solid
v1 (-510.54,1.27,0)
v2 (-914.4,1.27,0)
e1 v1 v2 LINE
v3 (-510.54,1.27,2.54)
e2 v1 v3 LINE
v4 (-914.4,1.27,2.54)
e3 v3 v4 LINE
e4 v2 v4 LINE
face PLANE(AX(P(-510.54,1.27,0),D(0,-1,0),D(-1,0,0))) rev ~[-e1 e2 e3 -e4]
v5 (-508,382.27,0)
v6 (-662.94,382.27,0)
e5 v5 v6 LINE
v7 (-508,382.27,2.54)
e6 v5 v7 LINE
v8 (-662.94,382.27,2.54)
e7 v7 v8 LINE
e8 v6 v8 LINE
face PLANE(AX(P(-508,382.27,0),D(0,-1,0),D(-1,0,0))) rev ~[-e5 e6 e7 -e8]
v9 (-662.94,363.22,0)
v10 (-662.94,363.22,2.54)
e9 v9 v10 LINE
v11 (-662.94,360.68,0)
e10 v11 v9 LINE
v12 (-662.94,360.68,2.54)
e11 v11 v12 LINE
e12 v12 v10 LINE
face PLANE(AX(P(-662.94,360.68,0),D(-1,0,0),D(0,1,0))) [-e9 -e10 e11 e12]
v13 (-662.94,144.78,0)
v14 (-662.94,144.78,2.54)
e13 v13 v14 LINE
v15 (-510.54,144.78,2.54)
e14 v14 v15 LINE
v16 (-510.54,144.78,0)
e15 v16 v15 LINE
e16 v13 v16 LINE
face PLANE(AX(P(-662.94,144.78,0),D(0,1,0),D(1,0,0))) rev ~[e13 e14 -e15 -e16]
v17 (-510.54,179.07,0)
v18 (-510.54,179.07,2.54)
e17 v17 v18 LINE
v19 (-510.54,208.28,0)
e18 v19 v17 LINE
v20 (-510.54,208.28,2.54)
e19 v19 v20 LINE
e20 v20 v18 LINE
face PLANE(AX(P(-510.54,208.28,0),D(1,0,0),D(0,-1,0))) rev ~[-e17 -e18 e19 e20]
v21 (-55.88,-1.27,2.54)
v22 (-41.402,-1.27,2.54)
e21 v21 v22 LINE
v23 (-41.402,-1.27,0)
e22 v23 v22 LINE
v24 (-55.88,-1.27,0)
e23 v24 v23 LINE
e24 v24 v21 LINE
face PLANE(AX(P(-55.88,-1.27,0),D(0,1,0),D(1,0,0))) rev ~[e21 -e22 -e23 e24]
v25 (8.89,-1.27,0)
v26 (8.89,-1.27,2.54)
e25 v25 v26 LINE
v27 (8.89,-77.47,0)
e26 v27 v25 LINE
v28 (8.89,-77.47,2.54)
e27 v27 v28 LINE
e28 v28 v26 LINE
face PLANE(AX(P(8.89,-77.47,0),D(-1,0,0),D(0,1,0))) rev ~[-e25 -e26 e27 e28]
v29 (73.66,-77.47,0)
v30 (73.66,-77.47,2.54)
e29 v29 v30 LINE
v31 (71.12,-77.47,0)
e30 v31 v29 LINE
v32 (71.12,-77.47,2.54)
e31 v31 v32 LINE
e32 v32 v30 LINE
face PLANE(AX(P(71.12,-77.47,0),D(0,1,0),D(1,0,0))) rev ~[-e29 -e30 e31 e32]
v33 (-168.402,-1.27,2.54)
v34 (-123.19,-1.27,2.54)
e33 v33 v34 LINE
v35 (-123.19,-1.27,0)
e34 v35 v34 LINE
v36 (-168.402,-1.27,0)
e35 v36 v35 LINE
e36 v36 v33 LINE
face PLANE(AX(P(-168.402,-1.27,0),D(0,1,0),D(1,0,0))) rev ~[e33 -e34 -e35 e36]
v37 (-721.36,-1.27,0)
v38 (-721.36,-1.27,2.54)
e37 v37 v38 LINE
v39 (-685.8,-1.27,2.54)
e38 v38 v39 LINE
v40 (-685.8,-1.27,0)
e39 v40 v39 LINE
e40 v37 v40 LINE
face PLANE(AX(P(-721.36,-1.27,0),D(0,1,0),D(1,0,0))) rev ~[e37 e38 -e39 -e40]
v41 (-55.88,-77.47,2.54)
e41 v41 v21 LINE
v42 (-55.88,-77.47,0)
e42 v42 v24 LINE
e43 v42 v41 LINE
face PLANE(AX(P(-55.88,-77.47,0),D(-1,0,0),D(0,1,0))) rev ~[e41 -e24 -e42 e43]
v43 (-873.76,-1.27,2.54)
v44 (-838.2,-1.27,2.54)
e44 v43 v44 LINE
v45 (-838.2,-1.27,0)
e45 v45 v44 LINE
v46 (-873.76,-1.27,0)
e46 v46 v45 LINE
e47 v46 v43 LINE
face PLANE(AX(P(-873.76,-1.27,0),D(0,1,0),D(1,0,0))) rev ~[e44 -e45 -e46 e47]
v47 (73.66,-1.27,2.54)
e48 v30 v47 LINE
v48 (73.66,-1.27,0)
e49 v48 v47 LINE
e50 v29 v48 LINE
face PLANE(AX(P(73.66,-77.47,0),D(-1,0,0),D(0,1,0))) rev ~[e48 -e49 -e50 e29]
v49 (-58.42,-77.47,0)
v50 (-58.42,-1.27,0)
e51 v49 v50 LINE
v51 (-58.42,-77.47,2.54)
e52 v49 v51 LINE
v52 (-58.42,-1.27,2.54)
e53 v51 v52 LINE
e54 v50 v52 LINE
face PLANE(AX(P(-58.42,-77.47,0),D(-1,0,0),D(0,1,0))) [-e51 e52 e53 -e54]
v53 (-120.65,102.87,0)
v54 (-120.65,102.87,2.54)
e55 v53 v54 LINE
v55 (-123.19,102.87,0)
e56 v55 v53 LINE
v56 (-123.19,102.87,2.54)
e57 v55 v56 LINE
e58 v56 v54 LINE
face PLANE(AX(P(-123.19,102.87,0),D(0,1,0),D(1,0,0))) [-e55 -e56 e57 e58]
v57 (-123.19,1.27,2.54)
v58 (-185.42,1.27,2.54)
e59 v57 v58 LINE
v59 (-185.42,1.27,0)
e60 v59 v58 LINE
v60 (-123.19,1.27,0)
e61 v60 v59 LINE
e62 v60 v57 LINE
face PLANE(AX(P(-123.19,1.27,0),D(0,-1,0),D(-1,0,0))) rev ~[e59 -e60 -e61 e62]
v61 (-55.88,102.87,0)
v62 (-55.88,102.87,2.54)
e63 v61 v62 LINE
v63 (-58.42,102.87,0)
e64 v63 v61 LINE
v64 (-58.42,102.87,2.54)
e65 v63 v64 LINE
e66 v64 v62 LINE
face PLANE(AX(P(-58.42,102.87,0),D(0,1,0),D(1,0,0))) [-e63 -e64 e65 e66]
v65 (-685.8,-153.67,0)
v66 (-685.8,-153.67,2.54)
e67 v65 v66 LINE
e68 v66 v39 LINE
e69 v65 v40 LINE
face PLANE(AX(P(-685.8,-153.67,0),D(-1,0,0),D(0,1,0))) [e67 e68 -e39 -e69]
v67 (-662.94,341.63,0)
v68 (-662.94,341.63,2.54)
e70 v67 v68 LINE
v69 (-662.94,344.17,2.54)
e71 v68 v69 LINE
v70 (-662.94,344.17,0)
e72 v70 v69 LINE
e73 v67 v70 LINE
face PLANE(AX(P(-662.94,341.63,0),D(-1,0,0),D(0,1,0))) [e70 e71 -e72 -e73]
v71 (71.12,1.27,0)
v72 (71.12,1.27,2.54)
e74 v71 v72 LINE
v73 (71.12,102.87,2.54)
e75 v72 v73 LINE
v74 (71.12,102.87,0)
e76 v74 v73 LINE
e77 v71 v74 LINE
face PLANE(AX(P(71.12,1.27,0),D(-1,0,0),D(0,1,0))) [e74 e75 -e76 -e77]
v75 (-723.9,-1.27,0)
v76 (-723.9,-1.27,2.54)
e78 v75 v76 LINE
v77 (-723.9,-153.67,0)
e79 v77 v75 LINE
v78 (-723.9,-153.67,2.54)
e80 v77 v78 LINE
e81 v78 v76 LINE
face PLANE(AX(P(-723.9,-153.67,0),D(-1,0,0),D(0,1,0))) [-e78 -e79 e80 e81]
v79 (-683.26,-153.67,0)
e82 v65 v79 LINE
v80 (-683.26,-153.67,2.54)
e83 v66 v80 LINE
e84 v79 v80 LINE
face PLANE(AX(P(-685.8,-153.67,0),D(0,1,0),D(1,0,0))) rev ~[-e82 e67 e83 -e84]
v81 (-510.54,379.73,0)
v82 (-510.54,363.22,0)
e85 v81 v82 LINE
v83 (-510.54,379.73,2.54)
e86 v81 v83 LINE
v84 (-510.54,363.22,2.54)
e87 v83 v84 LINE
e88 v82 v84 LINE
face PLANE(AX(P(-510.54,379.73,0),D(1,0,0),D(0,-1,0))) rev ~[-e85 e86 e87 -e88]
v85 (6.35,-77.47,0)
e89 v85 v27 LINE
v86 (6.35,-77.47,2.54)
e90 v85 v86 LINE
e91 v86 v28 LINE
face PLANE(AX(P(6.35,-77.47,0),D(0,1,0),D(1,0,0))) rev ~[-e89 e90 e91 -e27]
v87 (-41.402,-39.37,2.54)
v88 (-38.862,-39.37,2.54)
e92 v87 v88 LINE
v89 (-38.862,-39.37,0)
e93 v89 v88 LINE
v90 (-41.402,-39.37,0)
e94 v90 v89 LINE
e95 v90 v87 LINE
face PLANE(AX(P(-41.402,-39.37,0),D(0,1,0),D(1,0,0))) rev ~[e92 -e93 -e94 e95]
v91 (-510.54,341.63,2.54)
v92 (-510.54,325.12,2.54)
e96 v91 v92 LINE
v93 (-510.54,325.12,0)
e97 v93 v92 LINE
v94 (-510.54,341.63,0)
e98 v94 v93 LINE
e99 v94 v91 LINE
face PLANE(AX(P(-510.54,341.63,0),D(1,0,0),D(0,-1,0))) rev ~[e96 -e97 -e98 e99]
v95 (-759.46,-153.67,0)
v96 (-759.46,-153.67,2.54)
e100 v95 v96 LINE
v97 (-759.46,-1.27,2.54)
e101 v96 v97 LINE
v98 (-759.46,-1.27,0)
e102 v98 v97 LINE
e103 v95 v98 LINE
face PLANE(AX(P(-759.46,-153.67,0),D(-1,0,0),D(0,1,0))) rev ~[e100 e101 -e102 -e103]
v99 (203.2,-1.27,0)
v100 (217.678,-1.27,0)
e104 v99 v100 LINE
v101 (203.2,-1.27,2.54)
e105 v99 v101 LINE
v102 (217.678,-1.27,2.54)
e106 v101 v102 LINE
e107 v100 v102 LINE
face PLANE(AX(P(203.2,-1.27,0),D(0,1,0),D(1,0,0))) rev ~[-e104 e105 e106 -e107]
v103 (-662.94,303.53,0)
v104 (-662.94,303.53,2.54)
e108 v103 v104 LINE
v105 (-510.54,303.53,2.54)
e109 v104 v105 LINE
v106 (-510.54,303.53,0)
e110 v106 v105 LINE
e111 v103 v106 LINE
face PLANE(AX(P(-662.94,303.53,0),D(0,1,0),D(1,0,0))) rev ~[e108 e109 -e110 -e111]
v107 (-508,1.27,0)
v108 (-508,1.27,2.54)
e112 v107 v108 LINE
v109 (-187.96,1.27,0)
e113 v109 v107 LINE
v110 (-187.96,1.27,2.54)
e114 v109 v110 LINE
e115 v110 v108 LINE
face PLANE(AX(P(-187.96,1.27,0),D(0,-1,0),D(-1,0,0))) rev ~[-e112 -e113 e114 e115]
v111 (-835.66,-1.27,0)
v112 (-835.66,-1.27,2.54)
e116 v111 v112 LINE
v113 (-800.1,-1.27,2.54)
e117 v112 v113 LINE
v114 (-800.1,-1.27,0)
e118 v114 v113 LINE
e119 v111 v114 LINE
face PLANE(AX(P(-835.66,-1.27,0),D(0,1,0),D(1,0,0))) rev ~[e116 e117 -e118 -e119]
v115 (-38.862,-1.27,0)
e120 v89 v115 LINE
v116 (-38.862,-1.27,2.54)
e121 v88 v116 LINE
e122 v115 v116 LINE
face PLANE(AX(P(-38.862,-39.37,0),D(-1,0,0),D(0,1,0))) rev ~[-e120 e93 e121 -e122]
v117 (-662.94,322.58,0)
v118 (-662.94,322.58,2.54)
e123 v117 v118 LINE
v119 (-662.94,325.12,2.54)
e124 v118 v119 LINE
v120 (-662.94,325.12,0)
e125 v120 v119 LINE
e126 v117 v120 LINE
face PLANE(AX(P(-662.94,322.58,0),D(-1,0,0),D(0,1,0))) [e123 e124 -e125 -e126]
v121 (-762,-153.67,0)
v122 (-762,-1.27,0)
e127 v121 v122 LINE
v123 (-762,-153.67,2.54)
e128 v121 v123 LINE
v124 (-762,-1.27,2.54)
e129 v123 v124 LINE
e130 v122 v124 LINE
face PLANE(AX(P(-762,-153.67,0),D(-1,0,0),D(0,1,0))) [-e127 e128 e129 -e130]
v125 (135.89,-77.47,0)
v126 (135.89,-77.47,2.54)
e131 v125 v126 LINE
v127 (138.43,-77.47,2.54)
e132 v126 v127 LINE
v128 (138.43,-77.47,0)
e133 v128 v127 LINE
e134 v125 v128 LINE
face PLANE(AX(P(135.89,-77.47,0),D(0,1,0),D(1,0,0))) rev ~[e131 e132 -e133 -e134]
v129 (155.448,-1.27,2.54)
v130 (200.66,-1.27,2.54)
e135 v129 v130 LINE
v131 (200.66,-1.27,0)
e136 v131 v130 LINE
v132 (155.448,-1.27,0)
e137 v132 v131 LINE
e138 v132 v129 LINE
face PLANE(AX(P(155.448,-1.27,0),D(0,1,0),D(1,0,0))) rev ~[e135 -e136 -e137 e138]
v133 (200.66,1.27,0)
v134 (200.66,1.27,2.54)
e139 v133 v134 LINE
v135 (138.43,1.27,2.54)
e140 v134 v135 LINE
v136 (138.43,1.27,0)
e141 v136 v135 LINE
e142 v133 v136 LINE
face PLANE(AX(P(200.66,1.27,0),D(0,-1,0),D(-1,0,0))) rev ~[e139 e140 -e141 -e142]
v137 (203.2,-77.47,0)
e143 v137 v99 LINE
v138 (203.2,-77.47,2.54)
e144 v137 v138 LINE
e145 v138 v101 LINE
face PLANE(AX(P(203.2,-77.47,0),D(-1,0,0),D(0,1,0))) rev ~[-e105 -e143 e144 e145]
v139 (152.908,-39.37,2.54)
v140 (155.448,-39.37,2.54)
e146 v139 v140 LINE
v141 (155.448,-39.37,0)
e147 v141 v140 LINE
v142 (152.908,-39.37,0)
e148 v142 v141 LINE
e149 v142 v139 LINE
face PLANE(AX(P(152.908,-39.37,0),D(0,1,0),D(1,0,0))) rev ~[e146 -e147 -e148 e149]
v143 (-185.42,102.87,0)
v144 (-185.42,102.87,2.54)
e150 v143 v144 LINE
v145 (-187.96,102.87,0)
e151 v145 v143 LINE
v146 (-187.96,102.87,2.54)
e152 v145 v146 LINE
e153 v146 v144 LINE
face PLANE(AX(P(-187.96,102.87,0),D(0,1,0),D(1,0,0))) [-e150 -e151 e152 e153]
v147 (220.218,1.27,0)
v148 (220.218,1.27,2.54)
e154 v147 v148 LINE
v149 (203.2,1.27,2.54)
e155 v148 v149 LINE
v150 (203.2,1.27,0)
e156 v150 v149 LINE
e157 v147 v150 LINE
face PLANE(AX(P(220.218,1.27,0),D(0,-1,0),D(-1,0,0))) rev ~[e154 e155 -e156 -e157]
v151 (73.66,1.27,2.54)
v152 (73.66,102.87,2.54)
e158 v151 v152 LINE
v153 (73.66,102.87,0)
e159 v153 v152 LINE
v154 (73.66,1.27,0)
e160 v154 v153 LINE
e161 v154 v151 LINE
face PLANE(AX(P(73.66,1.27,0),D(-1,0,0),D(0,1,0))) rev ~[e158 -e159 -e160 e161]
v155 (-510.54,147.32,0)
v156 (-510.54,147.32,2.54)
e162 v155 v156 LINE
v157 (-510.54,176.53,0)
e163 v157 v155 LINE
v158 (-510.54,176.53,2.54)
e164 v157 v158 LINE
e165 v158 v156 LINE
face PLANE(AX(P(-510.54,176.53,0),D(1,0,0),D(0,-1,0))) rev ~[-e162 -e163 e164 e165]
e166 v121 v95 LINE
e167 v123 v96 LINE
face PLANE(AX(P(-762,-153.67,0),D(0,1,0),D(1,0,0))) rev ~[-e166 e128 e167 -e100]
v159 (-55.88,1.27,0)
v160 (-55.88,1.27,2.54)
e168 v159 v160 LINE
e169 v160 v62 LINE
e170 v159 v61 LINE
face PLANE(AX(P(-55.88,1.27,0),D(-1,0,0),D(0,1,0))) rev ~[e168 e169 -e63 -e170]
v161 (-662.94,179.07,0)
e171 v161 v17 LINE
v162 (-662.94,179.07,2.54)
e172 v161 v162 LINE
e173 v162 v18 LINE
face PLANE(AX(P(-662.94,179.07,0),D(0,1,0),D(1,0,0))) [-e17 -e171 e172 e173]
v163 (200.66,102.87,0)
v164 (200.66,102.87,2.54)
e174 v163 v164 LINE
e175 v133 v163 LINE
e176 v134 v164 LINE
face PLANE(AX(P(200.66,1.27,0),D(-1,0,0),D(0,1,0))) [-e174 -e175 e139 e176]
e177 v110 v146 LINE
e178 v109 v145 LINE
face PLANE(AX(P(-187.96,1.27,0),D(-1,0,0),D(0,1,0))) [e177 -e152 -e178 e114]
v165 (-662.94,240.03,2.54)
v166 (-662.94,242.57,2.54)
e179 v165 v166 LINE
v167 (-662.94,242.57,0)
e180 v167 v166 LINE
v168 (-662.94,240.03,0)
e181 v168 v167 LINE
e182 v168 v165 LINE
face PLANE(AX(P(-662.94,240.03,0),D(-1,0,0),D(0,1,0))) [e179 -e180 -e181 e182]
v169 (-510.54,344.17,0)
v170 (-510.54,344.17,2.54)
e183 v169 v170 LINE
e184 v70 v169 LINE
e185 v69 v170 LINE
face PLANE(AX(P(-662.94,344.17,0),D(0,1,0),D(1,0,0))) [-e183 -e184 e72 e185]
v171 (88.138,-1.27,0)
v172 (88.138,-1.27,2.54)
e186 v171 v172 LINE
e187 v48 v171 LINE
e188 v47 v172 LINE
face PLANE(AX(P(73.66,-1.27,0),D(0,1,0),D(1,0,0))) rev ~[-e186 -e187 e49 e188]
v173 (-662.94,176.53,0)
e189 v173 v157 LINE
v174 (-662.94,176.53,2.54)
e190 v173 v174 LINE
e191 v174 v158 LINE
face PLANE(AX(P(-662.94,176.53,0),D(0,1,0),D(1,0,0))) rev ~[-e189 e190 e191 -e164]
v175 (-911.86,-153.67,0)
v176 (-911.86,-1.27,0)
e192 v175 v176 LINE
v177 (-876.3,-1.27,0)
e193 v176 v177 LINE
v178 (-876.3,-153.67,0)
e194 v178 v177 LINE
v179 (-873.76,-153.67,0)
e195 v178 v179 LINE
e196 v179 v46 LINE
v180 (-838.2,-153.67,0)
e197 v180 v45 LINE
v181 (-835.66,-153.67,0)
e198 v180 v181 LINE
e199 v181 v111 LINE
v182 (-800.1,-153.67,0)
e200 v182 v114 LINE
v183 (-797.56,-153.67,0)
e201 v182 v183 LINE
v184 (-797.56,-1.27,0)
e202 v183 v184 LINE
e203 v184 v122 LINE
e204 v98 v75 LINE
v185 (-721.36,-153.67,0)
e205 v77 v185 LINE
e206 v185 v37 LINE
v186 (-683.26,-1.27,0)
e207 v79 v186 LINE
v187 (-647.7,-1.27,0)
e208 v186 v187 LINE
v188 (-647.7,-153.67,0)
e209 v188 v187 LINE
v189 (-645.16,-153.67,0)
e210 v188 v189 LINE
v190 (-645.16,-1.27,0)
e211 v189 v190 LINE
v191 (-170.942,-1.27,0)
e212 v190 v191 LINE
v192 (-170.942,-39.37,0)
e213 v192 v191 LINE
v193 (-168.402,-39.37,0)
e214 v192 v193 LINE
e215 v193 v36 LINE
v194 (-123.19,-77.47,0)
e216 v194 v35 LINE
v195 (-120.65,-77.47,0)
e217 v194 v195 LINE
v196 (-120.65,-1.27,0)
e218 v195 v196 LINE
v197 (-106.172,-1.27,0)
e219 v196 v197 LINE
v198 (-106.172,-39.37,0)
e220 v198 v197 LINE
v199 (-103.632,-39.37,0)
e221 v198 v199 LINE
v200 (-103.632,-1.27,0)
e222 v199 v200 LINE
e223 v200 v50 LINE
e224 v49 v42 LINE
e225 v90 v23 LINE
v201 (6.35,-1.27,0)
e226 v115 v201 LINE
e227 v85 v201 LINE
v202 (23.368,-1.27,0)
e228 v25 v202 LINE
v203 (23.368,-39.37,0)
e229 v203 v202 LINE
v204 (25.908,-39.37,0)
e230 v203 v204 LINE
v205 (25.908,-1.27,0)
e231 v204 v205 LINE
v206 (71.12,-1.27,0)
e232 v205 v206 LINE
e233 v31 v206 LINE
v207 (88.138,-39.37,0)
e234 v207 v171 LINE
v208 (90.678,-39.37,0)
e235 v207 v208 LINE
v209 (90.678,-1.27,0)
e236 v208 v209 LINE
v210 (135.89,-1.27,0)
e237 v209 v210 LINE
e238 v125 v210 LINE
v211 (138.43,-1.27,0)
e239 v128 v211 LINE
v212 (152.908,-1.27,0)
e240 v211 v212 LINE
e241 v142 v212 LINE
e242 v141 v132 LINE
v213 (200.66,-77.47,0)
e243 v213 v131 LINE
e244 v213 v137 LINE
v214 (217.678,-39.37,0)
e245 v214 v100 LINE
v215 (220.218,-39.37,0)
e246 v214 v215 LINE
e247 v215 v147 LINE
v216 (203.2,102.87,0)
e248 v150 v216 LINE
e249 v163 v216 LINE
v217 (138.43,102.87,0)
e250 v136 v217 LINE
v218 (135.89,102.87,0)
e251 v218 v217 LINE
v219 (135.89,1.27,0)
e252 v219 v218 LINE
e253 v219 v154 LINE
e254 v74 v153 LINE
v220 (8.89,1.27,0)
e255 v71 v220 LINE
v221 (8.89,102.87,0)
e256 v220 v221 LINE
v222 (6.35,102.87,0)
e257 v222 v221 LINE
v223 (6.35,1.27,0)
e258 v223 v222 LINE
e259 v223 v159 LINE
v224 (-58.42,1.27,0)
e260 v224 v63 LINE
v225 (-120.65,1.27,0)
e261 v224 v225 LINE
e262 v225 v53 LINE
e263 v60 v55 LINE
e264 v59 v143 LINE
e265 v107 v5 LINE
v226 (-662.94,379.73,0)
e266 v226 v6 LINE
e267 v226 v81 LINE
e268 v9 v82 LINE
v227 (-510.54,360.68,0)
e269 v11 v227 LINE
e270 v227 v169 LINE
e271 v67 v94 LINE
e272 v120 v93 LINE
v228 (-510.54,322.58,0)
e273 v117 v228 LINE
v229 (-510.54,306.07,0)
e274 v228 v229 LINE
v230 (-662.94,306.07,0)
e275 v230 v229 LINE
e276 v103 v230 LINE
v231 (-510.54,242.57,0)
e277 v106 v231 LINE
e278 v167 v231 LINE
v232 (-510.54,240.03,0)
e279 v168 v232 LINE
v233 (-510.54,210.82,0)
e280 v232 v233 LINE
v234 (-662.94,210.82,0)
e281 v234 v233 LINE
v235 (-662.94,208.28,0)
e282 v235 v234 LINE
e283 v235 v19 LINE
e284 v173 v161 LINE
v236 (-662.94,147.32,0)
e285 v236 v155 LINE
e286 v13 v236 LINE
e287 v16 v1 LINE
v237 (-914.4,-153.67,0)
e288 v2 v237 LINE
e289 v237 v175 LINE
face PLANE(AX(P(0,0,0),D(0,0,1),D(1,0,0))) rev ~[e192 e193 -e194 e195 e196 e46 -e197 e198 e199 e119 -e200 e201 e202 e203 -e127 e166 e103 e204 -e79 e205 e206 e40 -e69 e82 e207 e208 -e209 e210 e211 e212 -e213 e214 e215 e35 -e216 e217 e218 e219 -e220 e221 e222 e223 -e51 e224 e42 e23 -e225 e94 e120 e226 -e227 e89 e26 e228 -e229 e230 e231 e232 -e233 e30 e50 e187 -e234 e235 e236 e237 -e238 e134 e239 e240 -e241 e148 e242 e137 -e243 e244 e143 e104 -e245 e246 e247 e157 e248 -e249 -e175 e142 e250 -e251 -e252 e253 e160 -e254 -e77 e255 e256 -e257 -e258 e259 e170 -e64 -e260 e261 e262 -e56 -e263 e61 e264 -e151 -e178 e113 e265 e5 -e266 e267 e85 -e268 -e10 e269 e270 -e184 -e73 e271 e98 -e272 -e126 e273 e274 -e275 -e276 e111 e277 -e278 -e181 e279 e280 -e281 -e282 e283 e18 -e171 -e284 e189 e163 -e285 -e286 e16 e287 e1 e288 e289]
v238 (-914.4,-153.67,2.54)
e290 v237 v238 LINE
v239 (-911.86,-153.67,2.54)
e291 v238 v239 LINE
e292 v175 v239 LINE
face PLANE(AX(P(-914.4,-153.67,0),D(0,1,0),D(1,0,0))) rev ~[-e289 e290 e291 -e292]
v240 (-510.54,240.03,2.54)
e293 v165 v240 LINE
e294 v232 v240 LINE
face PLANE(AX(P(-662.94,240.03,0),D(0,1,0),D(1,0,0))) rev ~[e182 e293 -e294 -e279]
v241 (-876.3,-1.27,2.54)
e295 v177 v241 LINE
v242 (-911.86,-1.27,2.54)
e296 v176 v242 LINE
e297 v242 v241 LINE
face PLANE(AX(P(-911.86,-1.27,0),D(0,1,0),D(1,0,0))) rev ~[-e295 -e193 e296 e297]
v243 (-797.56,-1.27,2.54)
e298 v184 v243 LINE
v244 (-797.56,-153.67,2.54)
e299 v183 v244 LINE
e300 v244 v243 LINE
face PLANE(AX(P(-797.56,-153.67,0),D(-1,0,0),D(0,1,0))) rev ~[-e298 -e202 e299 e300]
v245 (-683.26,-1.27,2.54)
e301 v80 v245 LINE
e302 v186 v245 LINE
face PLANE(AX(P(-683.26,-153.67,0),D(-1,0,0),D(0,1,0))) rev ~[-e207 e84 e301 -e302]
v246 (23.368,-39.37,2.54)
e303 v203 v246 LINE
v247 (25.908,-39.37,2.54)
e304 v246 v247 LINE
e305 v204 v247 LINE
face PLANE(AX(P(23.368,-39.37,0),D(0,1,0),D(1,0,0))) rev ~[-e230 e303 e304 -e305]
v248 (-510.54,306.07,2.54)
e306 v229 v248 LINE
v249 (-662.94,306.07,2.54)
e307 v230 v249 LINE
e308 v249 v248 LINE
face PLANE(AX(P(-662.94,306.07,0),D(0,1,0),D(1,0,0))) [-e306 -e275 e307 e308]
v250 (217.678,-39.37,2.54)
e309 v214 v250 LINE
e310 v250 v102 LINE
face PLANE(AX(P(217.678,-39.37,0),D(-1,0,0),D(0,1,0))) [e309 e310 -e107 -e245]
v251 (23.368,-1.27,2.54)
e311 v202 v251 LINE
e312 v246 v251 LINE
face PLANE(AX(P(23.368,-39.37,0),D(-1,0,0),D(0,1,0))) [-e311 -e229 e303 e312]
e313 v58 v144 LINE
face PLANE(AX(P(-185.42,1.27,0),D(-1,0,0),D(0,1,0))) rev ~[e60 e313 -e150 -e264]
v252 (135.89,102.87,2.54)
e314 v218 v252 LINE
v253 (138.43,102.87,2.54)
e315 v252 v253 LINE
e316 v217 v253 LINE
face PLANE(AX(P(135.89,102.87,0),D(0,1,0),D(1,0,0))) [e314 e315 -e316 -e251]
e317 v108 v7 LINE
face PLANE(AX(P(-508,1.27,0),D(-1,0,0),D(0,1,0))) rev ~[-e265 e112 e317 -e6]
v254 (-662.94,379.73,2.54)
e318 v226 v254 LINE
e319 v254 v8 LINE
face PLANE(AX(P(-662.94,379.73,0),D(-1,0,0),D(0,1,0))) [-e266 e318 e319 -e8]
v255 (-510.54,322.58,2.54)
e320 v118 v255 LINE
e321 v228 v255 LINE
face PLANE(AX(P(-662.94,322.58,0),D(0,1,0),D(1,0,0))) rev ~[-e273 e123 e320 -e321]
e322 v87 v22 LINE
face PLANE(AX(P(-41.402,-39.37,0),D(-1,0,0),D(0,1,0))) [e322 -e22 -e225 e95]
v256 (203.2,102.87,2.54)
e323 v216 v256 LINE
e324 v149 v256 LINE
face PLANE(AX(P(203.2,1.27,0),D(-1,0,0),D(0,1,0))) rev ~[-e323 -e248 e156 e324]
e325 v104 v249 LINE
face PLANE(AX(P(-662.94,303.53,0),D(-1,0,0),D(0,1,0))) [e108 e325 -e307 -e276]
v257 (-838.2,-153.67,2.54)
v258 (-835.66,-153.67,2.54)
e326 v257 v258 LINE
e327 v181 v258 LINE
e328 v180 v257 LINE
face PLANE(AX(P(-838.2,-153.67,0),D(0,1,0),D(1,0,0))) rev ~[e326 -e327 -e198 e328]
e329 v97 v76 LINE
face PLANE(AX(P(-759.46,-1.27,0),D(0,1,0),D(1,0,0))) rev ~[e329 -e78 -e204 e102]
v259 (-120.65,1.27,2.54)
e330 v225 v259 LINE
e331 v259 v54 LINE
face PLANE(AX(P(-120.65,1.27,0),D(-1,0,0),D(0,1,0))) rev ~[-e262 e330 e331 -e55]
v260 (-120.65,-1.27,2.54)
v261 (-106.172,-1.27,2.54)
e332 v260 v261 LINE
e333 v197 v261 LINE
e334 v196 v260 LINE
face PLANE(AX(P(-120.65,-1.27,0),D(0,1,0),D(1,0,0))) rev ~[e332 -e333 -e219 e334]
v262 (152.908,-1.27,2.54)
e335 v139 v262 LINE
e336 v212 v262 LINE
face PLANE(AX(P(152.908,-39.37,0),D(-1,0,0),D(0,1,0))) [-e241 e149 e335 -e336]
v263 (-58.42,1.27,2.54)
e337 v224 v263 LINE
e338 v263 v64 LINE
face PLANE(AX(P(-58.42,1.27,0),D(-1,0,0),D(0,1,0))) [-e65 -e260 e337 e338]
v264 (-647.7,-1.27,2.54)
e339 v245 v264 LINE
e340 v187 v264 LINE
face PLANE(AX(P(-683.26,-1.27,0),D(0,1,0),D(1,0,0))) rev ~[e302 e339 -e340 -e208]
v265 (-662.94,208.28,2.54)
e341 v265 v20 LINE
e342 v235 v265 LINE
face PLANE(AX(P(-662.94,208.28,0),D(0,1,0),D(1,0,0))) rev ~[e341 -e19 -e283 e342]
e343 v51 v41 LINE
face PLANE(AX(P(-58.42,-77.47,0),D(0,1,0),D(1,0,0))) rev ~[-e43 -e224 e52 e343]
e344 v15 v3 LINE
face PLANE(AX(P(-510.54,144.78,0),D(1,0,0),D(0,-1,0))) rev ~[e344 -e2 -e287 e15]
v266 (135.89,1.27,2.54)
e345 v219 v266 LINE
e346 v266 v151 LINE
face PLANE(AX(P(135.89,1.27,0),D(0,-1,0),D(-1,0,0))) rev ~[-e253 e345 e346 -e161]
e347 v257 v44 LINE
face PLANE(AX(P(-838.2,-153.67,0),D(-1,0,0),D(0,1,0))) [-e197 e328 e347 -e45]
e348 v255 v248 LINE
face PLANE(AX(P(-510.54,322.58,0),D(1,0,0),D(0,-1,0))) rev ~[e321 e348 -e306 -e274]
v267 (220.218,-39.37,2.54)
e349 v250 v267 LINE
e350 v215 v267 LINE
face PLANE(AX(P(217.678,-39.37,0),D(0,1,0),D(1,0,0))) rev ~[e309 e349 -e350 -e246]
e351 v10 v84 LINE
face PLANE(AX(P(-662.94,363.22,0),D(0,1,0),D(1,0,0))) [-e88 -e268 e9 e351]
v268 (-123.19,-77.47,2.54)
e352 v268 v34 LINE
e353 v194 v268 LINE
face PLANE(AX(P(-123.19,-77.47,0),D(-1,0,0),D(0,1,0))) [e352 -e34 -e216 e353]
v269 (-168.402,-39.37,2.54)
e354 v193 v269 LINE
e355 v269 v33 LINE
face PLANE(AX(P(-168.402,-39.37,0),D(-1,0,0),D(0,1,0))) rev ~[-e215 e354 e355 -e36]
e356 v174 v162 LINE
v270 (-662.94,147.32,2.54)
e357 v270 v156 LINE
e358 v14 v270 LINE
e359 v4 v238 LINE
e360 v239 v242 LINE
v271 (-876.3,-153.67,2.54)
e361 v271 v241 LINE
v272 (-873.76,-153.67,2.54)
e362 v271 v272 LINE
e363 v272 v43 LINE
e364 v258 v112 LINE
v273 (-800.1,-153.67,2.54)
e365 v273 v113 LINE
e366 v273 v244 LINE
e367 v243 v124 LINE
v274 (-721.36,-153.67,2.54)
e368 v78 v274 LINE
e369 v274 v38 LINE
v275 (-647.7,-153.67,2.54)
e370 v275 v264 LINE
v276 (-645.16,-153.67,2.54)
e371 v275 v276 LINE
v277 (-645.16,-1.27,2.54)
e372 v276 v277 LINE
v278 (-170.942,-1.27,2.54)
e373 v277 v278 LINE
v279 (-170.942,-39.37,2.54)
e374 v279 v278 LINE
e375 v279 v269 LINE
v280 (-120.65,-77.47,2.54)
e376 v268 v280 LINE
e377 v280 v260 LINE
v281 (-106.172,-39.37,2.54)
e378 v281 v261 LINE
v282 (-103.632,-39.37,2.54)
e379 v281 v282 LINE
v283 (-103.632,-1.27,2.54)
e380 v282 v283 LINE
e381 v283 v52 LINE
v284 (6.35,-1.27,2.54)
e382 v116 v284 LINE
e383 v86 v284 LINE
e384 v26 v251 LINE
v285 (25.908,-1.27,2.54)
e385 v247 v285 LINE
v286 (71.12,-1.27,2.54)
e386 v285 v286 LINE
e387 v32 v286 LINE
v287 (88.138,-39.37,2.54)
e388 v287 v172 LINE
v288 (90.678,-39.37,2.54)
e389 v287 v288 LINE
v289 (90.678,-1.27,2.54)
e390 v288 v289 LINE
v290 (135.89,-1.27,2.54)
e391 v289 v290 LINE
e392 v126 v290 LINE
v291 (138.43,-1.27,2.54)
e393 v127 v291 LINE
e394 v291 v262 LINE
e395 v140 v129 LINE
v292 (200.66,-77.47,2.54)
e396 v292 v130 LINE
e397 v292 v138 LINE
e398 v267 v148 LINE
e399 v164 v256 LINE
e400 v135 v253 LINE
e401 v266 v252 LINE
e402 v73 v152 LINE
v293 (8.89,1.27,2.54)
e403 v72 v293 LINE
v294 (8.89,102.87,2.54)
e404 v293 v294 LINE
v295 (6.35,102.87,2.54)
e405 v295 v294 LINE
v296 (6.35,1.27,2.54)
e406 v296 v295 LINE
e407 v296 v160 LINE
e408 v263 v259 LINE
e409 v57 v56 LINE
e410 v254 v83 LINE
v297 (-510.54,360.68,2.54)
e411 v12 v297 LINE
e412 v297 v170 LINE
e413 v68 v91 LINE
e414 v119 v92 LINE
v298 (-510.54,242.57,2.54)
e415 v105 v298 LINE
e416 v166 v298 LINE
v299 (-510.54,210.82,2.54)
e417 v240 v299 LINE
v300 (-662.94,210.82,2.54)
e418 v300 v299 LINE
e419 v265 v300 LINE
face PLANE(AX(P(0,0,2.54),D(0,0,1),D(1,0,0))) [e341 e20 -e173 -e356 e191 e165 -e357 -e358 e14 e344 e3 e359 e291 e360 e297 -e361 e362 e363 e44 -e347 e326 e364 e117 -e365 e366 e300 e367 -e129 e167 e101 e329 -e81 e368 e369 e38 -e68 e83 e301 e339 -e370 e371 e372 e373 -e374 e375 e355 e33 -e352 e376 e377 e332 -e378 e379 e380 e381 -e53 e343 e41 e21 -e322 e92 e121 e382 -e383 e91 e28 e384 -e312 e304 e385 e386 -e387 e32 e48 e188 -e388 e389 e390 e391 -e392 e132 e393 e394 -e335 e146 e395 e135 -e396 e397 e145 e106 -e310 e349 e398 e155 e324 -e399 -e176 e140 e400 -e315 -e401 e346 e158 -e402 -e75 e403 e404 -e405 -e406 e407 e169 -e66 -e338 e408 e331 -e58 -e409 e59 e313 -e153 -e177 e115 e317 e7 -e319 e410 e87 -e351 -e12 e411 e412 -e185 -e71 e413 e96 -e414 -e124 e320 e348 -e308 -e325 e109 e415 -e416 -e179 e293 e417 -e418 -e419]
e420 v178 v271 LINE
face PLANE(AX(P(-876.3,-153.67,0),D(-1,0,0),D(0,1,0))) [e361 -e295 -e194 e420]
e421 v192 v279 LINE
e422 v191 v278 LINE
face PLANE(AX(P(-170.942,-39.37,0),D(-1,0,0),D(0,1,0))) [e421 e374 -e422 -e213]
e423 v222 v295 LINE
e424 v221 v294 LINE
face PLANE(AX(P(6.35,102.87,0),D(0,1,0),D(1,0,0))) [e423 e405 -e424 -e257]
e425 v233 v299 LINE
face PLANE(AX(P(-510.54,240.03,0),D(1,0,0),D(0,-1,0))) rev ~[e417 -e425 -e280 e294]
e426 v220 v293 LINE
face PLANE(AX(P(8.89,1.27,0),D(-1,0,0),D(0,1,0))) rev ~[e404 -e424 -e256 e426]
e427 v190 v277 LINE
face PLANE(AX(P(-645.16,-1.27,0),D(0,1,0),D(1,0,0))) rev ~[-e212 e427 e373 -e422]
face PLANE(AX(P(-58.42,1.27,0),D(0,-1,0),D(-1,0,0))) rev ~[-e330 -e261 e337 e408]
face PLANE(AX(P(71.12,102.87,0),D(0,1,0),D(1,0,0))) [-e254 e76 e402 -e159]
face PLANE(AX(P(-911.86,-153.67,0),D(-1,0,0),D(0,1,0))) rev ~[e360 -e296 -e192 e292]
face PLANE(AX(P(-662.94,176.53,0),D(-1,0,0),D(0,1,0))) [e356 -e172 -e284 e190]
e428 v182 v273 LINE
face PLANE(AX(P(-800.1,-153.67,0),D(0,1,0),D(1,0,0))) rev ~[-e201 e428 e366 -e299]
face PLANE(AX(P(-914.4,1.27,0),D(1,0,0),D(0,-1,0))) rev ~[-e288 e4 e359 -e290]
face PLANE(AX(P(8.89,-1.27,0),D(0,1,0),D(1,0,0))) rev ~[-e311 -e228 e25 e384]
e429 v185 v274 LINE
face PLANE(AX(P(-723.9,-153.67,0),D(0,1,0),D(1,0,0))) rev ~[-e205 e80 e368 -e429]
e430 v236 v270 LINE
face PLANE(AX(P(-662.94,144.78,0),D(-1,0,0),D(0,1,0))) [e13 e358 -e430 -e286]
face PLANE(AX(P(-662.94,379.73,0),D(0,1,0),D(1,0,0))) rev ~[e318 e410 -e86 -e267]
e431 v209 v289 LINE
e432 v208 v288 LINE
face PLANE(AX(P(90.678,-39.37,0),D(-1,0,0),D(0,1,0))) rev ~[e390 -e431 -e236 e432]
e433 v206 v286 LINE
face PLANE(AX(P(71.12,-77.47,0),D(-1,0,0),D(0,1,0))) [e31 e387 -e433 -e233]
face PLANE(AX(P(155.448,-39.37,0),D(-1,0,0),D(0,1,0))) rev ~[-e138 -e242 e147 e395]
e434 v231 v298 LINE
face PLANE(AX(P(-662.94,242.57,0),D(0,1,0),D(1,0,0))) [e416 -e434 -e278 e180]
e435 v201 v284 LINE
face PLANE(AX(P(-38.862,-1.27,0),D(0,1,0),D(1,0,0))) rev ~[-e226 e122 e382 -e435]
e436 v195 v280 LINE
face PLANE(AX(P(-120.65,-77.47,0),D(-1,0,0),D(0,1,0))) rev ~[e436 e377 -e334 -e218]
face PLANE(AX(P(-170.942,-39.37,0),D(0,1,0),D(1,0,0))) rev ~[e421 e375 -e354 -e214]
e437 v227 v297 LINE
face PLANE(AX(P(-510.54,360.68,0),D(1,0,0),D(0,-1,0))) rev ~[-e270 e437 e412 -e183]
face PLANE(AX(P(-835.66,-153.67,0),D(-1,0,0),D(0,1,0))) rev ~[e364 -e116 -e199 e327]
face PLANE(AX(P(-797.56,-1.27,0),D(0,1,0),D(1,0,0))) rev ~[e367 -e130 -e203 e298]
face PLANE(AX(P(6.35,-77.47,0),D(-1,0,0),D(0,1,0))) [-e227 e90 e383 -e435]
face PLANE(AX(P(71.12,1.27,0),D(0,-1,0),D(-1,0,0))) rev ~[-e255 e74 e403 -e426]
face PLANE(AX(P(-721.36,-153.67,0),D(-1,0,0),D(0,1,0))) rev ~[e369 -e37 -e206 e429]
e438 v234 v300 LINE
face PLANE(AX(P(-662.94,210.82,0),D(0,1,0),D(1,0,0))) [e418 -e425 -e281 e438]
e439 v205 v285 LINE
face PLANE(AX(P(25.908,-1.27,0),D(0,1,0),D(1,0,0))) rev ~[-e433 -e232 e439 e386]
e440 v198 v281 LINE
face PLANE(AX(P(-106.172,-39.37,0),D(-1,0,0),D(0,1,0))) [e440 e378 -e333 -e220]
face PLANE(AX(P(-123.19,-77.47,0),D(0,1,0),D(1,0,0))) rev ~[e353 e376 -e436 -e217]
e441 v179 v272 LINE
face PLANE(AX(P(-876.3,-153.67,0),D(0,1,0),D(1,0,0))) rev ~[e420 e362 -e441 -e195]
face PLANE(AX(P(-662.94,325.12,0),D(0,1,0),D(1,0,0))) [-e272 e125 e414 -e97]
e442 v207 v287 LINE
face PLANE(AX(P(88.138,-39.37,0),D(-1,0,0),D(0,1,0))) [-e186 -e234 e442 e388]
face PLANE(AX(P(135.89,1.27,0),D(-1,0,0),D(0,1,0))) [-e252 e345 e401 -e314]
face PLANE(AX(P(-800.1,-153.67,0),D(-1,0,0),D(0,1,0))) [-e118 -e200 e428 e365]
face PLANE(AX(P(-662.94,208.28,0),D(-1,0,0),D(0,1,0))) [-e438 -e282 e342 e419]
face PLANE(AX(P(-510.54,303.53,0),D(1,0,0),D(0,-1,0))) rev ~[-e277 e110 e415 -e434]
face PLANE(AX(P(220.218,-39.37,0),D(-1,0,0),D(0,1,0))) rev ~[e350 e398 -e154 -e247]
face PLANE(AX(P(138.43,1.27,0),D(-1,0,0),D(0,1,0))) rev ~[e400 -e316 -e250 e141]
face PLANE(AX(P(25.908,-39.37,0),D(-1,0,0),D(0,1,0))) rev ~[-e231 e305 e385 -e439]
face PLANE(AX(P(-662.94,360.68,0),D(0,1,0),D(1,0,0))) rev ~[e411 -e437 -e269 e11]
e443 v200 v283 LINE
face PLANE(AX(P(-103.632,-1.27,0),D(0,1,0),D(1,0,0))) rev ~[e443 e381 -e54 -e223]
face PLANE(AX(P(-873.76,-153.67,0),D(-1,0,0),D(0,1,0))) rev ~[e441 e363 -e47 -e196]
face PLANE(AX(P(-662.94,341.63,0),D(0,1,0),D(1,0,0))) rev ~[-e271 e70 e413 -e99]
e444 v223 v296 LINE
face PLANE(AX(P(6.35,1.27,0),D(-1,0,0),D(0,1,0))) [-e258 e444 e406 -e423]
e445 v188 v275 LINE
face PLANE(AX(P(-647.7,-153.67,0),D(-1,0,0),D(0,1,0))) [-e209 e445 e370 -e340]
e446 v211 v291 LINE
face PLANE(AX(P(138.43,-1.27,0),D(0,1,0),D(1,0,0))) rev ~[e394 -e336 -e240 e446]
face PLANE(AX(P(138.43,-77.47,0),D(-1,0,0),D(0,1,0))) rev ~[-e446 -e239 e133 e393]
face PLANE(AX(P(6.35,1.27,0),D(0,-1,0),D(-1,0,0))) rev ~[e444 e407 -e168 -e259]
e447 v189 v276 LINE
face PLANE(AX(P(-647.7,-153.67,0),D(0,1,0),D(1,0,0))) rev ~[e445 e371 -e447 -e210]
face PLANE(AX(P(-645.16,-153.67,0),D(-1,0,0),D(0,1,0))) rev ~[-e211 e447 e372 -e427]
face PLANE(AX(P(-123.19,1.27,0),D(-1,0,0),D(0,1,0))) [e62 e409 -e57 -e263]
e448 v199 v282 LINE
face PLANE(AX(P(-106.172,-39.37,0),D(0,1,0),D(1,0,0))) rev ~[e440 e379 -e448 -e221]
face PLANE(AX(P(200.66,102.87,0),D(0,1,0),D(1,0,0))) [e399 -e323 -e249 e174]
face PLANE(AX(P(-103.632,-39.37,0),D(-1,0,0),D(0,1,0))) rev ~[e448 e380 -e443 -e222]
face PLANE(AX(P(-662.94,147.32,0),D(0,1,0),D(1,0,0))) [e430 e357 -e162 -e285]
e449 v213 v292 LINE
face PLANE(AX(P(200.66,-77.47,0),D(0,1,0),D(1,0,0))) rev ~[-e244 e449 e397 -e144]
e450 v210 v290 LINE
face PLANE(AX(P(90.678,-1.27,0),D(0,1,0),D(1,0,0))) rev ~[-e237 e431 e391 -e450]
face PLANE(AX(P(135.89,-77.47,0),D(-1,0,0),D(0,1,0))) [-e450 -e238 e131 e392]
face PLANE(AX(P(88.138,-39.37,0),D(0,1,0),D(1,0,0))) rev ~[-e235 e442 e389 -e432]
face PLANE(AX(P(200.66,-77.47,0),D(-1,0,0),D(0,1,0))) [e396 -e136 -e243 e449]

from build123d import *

# Parameters (mm, degrees)
F0_W     = 2.54
F0_H     = 101.6
F0_H_2   = 76.2
F0_H_3   = 38.1
F0_W_2   = 304.8
F0_H_4   = 2.54
F0_H_5   = 152.4
F0_W_3   = 152.4
F1_DEPTH = 2.54


with BuildPart() as f1:
    # F0 (on Top) → F1 (new body)
    with BuildSketch(Plane.XY):
        Polygon((203.2, -1.27), (203.2, 1.27), (200.66, 1.27), (138.43, 1.27), (135.89, 1.27), (73.66, 1.27), (71.12, 1.27), (8.89, 1.27), (6.35, 1.27), (-55.88, 1.27), (-58.42, 1.27), (-120.65, 1.27), (-123.19, 1.27), (-185.42, 1.27), (-187.96, 1.27), (-203.2, 1.27), (-203.2, -1.27), (-187.96, -1.27), (-185.42, -1.27), (-170.942, -1.27), (-168.402, -1.27), (-123.19, -1.27), (-120.65, -1.27), (-106.172, -1.27), (-103.632, -1.27), (-58.42, -1.27), (-55.88, -1.27), (-41.402, -1.27), (-38.862, -1.27), (6.35, -1.27), (8.89, -1.27), (23.368, -1.27), (25.908, -1.27), (71.12, -1.27), (73.66, -1.27), (88.138, -1.27), (90.678, -1.27), (135.89, -1.27), (138.43, -1.27), (152.908, -1.27), (155.448, -1.27), (200.66, -1.27), align=None)
        Polygon((220.218, 1.27), (203.2, 1.27), (203.2, -1.27), (217.678, -1.27), (220.218, -1.27), align=None)
        with Locations((201.93, 52.07)):
            Rectangle(F0_W, F0_H)
        with Locations((201.93, -39.37)):
            Rectangle(F0_W, F0_H_2)
        with Locations((137.16, 52.07)):
            Rectangle(F0_W, F0_H)
        with Locations((218.948, -20.32)):
            Rectangle(F0_W, F0_H_3)
        with Locations((154.178, -20.32)):
            Rectangle(F0_W, F0_H_3)
        with Locations((72.39, 52.07)):
            Rectangle(F0_W, F0_H)
        with Locations((137.16, -39.37)):
            Rectangle(F0_W, F0_H_2)
        with Locations((7.62, 52.07)):
            Rectangle(F0_W, F0_H)
        with Locations((89.408, -20.32)):
            Rectangle(F0_W, F0_H_3)
        with Locations((-57.15, 52.07)):
            Rectangle(F0_W, F0_H)
        with Locations((72.39, -39.37)):
            Rectangle(F0_W, F0_H_2)
        with Locations((-121.92, 52.07)):
            Rectangle(F0_W, F0_H)
        with Locations((24.638, -20.32)):
            Rectangle(F0_W, F0_H_3)
        with Locations((-186.69, 52.07)):
            Rectangle(F0_W, F0_H)
        with Locations((7.62, -39.37)):
            Rectangle(F0_W, F0_H_2)
        with Locations((-355.6, 0)):
            Rectangle(F0_W_2, F0_H_4)
        Polygon((-508, -1.27), (-508, 1.27), (-510.54, 1.27), (-914.4, 1.27), (-914.4, -1.27), (-911.86, -1.27), (-876.3, -1.27), (-873.76, -1.27), (-838.2, -1.27), (-835.66, -1.27), (-800.1, -1.27), (-797.56, -1.27), (-762, -1.27), (-759.46, -1.27), (-723.9, -1.27), (-721.36, -1.27), (-685.8, -1.27), (-683.26, -1.27), (-647.7, -1.27), (-645.16, -1.27), align=None)
        Polygon((-510.54, 1.27), (-508, 1.27), (-508, 382.27), (-510.54, 382.27), (-510.54, 379.73), (-510.54, 363.22), (-510.54, 360.68), (-510.54, 344.17), (-510.54, 341.63), (-510.54, 325.12), (-510.54, 322.58), (-510.54, 306.07), (-510.54, 303.53), (-510.54, 242.57), (-510.54, 240.03), (-510.54, 210.82), (-510.54, 208.28), (-510.54, 179.07), (-510.54, 176.53), (-510.54, 147.32), (-510.54, 144.78), align=None)
        with Locations((-40.132, -20.32)):
            Rectangle(F0_W, F0_H_3)
        with Locations((-646.43, -77.47)):
            Rectangle(F0_W, F0_H_5)
        with Locations((-586.74, 146.05)):
            Rectangle(F0_W_3, F0_H_4)
        with Locations((-586.74, 381)):
            Rectangle(F0_W_3, F0_H_4)
        with Locations((-57.15, -39.37)):
            Rectangle(F0_W, F0_H_2)
        with Locations((-169.672, -20.32)):
            Rectangle(F0_W, F0_H_3)
        with Locations((-913.13, -77.47)):
            Rectangle(F0_W, F0_H_5)
        with Locations((-684.53, -77.47)):
            Rectangle(F0_W, F0_H_5)
        with Locations((-586.74, 177.8)):
            Rectangle(F0_W_3, F0_H_4)
        with Locations((-586.74, 361.95)):
            Rectangle(F0_W_3, F0_H_4)
        with Locations((-104.902, -20.32)):
            Rectangle(F0_W, F0_H_3)
        with Locations((-121.92, -39.37)):
            Rectangle(F0_W, F0_H_2)
        with Locations((-875.03, -77.47)):
            Rectangle(F0_W, F0_H_5)
        with Locations((-722.63, -77.47)):
            Rectangle(F0_W, F0_H_5)
        with Locations((-586.74, 209.55)):
            Rectangle(F0_W_3, F0_H_4)
        with Locations((-586.74, 342.9)):
            Rectangle(F0_W_3, F0_H_4)
        with Locations((-836.93, -77.47)):
            Rectangle(F0_W, F0_H_5)
        with Locations((-760.73, -77.47)):
            Rectangle(F0_W, F0_H_5)
        with Locations((-586.74, 241.3)):
            Rectangle(F0_W_3, F0_H_4)
        with Locations((-586.74, 323.85)):
            Rectangle(F0_W_3, F0_H_4)
        with Locations((-798.83, -77.47)):
            Rectangle(F0_W, F0_H_5)
        with Locations((-586.74, 304.8)):
            Rectangle(F0_W_3, F0_H_4)
    extrude(amount=F1_DEPTH)


solid = f1.part
